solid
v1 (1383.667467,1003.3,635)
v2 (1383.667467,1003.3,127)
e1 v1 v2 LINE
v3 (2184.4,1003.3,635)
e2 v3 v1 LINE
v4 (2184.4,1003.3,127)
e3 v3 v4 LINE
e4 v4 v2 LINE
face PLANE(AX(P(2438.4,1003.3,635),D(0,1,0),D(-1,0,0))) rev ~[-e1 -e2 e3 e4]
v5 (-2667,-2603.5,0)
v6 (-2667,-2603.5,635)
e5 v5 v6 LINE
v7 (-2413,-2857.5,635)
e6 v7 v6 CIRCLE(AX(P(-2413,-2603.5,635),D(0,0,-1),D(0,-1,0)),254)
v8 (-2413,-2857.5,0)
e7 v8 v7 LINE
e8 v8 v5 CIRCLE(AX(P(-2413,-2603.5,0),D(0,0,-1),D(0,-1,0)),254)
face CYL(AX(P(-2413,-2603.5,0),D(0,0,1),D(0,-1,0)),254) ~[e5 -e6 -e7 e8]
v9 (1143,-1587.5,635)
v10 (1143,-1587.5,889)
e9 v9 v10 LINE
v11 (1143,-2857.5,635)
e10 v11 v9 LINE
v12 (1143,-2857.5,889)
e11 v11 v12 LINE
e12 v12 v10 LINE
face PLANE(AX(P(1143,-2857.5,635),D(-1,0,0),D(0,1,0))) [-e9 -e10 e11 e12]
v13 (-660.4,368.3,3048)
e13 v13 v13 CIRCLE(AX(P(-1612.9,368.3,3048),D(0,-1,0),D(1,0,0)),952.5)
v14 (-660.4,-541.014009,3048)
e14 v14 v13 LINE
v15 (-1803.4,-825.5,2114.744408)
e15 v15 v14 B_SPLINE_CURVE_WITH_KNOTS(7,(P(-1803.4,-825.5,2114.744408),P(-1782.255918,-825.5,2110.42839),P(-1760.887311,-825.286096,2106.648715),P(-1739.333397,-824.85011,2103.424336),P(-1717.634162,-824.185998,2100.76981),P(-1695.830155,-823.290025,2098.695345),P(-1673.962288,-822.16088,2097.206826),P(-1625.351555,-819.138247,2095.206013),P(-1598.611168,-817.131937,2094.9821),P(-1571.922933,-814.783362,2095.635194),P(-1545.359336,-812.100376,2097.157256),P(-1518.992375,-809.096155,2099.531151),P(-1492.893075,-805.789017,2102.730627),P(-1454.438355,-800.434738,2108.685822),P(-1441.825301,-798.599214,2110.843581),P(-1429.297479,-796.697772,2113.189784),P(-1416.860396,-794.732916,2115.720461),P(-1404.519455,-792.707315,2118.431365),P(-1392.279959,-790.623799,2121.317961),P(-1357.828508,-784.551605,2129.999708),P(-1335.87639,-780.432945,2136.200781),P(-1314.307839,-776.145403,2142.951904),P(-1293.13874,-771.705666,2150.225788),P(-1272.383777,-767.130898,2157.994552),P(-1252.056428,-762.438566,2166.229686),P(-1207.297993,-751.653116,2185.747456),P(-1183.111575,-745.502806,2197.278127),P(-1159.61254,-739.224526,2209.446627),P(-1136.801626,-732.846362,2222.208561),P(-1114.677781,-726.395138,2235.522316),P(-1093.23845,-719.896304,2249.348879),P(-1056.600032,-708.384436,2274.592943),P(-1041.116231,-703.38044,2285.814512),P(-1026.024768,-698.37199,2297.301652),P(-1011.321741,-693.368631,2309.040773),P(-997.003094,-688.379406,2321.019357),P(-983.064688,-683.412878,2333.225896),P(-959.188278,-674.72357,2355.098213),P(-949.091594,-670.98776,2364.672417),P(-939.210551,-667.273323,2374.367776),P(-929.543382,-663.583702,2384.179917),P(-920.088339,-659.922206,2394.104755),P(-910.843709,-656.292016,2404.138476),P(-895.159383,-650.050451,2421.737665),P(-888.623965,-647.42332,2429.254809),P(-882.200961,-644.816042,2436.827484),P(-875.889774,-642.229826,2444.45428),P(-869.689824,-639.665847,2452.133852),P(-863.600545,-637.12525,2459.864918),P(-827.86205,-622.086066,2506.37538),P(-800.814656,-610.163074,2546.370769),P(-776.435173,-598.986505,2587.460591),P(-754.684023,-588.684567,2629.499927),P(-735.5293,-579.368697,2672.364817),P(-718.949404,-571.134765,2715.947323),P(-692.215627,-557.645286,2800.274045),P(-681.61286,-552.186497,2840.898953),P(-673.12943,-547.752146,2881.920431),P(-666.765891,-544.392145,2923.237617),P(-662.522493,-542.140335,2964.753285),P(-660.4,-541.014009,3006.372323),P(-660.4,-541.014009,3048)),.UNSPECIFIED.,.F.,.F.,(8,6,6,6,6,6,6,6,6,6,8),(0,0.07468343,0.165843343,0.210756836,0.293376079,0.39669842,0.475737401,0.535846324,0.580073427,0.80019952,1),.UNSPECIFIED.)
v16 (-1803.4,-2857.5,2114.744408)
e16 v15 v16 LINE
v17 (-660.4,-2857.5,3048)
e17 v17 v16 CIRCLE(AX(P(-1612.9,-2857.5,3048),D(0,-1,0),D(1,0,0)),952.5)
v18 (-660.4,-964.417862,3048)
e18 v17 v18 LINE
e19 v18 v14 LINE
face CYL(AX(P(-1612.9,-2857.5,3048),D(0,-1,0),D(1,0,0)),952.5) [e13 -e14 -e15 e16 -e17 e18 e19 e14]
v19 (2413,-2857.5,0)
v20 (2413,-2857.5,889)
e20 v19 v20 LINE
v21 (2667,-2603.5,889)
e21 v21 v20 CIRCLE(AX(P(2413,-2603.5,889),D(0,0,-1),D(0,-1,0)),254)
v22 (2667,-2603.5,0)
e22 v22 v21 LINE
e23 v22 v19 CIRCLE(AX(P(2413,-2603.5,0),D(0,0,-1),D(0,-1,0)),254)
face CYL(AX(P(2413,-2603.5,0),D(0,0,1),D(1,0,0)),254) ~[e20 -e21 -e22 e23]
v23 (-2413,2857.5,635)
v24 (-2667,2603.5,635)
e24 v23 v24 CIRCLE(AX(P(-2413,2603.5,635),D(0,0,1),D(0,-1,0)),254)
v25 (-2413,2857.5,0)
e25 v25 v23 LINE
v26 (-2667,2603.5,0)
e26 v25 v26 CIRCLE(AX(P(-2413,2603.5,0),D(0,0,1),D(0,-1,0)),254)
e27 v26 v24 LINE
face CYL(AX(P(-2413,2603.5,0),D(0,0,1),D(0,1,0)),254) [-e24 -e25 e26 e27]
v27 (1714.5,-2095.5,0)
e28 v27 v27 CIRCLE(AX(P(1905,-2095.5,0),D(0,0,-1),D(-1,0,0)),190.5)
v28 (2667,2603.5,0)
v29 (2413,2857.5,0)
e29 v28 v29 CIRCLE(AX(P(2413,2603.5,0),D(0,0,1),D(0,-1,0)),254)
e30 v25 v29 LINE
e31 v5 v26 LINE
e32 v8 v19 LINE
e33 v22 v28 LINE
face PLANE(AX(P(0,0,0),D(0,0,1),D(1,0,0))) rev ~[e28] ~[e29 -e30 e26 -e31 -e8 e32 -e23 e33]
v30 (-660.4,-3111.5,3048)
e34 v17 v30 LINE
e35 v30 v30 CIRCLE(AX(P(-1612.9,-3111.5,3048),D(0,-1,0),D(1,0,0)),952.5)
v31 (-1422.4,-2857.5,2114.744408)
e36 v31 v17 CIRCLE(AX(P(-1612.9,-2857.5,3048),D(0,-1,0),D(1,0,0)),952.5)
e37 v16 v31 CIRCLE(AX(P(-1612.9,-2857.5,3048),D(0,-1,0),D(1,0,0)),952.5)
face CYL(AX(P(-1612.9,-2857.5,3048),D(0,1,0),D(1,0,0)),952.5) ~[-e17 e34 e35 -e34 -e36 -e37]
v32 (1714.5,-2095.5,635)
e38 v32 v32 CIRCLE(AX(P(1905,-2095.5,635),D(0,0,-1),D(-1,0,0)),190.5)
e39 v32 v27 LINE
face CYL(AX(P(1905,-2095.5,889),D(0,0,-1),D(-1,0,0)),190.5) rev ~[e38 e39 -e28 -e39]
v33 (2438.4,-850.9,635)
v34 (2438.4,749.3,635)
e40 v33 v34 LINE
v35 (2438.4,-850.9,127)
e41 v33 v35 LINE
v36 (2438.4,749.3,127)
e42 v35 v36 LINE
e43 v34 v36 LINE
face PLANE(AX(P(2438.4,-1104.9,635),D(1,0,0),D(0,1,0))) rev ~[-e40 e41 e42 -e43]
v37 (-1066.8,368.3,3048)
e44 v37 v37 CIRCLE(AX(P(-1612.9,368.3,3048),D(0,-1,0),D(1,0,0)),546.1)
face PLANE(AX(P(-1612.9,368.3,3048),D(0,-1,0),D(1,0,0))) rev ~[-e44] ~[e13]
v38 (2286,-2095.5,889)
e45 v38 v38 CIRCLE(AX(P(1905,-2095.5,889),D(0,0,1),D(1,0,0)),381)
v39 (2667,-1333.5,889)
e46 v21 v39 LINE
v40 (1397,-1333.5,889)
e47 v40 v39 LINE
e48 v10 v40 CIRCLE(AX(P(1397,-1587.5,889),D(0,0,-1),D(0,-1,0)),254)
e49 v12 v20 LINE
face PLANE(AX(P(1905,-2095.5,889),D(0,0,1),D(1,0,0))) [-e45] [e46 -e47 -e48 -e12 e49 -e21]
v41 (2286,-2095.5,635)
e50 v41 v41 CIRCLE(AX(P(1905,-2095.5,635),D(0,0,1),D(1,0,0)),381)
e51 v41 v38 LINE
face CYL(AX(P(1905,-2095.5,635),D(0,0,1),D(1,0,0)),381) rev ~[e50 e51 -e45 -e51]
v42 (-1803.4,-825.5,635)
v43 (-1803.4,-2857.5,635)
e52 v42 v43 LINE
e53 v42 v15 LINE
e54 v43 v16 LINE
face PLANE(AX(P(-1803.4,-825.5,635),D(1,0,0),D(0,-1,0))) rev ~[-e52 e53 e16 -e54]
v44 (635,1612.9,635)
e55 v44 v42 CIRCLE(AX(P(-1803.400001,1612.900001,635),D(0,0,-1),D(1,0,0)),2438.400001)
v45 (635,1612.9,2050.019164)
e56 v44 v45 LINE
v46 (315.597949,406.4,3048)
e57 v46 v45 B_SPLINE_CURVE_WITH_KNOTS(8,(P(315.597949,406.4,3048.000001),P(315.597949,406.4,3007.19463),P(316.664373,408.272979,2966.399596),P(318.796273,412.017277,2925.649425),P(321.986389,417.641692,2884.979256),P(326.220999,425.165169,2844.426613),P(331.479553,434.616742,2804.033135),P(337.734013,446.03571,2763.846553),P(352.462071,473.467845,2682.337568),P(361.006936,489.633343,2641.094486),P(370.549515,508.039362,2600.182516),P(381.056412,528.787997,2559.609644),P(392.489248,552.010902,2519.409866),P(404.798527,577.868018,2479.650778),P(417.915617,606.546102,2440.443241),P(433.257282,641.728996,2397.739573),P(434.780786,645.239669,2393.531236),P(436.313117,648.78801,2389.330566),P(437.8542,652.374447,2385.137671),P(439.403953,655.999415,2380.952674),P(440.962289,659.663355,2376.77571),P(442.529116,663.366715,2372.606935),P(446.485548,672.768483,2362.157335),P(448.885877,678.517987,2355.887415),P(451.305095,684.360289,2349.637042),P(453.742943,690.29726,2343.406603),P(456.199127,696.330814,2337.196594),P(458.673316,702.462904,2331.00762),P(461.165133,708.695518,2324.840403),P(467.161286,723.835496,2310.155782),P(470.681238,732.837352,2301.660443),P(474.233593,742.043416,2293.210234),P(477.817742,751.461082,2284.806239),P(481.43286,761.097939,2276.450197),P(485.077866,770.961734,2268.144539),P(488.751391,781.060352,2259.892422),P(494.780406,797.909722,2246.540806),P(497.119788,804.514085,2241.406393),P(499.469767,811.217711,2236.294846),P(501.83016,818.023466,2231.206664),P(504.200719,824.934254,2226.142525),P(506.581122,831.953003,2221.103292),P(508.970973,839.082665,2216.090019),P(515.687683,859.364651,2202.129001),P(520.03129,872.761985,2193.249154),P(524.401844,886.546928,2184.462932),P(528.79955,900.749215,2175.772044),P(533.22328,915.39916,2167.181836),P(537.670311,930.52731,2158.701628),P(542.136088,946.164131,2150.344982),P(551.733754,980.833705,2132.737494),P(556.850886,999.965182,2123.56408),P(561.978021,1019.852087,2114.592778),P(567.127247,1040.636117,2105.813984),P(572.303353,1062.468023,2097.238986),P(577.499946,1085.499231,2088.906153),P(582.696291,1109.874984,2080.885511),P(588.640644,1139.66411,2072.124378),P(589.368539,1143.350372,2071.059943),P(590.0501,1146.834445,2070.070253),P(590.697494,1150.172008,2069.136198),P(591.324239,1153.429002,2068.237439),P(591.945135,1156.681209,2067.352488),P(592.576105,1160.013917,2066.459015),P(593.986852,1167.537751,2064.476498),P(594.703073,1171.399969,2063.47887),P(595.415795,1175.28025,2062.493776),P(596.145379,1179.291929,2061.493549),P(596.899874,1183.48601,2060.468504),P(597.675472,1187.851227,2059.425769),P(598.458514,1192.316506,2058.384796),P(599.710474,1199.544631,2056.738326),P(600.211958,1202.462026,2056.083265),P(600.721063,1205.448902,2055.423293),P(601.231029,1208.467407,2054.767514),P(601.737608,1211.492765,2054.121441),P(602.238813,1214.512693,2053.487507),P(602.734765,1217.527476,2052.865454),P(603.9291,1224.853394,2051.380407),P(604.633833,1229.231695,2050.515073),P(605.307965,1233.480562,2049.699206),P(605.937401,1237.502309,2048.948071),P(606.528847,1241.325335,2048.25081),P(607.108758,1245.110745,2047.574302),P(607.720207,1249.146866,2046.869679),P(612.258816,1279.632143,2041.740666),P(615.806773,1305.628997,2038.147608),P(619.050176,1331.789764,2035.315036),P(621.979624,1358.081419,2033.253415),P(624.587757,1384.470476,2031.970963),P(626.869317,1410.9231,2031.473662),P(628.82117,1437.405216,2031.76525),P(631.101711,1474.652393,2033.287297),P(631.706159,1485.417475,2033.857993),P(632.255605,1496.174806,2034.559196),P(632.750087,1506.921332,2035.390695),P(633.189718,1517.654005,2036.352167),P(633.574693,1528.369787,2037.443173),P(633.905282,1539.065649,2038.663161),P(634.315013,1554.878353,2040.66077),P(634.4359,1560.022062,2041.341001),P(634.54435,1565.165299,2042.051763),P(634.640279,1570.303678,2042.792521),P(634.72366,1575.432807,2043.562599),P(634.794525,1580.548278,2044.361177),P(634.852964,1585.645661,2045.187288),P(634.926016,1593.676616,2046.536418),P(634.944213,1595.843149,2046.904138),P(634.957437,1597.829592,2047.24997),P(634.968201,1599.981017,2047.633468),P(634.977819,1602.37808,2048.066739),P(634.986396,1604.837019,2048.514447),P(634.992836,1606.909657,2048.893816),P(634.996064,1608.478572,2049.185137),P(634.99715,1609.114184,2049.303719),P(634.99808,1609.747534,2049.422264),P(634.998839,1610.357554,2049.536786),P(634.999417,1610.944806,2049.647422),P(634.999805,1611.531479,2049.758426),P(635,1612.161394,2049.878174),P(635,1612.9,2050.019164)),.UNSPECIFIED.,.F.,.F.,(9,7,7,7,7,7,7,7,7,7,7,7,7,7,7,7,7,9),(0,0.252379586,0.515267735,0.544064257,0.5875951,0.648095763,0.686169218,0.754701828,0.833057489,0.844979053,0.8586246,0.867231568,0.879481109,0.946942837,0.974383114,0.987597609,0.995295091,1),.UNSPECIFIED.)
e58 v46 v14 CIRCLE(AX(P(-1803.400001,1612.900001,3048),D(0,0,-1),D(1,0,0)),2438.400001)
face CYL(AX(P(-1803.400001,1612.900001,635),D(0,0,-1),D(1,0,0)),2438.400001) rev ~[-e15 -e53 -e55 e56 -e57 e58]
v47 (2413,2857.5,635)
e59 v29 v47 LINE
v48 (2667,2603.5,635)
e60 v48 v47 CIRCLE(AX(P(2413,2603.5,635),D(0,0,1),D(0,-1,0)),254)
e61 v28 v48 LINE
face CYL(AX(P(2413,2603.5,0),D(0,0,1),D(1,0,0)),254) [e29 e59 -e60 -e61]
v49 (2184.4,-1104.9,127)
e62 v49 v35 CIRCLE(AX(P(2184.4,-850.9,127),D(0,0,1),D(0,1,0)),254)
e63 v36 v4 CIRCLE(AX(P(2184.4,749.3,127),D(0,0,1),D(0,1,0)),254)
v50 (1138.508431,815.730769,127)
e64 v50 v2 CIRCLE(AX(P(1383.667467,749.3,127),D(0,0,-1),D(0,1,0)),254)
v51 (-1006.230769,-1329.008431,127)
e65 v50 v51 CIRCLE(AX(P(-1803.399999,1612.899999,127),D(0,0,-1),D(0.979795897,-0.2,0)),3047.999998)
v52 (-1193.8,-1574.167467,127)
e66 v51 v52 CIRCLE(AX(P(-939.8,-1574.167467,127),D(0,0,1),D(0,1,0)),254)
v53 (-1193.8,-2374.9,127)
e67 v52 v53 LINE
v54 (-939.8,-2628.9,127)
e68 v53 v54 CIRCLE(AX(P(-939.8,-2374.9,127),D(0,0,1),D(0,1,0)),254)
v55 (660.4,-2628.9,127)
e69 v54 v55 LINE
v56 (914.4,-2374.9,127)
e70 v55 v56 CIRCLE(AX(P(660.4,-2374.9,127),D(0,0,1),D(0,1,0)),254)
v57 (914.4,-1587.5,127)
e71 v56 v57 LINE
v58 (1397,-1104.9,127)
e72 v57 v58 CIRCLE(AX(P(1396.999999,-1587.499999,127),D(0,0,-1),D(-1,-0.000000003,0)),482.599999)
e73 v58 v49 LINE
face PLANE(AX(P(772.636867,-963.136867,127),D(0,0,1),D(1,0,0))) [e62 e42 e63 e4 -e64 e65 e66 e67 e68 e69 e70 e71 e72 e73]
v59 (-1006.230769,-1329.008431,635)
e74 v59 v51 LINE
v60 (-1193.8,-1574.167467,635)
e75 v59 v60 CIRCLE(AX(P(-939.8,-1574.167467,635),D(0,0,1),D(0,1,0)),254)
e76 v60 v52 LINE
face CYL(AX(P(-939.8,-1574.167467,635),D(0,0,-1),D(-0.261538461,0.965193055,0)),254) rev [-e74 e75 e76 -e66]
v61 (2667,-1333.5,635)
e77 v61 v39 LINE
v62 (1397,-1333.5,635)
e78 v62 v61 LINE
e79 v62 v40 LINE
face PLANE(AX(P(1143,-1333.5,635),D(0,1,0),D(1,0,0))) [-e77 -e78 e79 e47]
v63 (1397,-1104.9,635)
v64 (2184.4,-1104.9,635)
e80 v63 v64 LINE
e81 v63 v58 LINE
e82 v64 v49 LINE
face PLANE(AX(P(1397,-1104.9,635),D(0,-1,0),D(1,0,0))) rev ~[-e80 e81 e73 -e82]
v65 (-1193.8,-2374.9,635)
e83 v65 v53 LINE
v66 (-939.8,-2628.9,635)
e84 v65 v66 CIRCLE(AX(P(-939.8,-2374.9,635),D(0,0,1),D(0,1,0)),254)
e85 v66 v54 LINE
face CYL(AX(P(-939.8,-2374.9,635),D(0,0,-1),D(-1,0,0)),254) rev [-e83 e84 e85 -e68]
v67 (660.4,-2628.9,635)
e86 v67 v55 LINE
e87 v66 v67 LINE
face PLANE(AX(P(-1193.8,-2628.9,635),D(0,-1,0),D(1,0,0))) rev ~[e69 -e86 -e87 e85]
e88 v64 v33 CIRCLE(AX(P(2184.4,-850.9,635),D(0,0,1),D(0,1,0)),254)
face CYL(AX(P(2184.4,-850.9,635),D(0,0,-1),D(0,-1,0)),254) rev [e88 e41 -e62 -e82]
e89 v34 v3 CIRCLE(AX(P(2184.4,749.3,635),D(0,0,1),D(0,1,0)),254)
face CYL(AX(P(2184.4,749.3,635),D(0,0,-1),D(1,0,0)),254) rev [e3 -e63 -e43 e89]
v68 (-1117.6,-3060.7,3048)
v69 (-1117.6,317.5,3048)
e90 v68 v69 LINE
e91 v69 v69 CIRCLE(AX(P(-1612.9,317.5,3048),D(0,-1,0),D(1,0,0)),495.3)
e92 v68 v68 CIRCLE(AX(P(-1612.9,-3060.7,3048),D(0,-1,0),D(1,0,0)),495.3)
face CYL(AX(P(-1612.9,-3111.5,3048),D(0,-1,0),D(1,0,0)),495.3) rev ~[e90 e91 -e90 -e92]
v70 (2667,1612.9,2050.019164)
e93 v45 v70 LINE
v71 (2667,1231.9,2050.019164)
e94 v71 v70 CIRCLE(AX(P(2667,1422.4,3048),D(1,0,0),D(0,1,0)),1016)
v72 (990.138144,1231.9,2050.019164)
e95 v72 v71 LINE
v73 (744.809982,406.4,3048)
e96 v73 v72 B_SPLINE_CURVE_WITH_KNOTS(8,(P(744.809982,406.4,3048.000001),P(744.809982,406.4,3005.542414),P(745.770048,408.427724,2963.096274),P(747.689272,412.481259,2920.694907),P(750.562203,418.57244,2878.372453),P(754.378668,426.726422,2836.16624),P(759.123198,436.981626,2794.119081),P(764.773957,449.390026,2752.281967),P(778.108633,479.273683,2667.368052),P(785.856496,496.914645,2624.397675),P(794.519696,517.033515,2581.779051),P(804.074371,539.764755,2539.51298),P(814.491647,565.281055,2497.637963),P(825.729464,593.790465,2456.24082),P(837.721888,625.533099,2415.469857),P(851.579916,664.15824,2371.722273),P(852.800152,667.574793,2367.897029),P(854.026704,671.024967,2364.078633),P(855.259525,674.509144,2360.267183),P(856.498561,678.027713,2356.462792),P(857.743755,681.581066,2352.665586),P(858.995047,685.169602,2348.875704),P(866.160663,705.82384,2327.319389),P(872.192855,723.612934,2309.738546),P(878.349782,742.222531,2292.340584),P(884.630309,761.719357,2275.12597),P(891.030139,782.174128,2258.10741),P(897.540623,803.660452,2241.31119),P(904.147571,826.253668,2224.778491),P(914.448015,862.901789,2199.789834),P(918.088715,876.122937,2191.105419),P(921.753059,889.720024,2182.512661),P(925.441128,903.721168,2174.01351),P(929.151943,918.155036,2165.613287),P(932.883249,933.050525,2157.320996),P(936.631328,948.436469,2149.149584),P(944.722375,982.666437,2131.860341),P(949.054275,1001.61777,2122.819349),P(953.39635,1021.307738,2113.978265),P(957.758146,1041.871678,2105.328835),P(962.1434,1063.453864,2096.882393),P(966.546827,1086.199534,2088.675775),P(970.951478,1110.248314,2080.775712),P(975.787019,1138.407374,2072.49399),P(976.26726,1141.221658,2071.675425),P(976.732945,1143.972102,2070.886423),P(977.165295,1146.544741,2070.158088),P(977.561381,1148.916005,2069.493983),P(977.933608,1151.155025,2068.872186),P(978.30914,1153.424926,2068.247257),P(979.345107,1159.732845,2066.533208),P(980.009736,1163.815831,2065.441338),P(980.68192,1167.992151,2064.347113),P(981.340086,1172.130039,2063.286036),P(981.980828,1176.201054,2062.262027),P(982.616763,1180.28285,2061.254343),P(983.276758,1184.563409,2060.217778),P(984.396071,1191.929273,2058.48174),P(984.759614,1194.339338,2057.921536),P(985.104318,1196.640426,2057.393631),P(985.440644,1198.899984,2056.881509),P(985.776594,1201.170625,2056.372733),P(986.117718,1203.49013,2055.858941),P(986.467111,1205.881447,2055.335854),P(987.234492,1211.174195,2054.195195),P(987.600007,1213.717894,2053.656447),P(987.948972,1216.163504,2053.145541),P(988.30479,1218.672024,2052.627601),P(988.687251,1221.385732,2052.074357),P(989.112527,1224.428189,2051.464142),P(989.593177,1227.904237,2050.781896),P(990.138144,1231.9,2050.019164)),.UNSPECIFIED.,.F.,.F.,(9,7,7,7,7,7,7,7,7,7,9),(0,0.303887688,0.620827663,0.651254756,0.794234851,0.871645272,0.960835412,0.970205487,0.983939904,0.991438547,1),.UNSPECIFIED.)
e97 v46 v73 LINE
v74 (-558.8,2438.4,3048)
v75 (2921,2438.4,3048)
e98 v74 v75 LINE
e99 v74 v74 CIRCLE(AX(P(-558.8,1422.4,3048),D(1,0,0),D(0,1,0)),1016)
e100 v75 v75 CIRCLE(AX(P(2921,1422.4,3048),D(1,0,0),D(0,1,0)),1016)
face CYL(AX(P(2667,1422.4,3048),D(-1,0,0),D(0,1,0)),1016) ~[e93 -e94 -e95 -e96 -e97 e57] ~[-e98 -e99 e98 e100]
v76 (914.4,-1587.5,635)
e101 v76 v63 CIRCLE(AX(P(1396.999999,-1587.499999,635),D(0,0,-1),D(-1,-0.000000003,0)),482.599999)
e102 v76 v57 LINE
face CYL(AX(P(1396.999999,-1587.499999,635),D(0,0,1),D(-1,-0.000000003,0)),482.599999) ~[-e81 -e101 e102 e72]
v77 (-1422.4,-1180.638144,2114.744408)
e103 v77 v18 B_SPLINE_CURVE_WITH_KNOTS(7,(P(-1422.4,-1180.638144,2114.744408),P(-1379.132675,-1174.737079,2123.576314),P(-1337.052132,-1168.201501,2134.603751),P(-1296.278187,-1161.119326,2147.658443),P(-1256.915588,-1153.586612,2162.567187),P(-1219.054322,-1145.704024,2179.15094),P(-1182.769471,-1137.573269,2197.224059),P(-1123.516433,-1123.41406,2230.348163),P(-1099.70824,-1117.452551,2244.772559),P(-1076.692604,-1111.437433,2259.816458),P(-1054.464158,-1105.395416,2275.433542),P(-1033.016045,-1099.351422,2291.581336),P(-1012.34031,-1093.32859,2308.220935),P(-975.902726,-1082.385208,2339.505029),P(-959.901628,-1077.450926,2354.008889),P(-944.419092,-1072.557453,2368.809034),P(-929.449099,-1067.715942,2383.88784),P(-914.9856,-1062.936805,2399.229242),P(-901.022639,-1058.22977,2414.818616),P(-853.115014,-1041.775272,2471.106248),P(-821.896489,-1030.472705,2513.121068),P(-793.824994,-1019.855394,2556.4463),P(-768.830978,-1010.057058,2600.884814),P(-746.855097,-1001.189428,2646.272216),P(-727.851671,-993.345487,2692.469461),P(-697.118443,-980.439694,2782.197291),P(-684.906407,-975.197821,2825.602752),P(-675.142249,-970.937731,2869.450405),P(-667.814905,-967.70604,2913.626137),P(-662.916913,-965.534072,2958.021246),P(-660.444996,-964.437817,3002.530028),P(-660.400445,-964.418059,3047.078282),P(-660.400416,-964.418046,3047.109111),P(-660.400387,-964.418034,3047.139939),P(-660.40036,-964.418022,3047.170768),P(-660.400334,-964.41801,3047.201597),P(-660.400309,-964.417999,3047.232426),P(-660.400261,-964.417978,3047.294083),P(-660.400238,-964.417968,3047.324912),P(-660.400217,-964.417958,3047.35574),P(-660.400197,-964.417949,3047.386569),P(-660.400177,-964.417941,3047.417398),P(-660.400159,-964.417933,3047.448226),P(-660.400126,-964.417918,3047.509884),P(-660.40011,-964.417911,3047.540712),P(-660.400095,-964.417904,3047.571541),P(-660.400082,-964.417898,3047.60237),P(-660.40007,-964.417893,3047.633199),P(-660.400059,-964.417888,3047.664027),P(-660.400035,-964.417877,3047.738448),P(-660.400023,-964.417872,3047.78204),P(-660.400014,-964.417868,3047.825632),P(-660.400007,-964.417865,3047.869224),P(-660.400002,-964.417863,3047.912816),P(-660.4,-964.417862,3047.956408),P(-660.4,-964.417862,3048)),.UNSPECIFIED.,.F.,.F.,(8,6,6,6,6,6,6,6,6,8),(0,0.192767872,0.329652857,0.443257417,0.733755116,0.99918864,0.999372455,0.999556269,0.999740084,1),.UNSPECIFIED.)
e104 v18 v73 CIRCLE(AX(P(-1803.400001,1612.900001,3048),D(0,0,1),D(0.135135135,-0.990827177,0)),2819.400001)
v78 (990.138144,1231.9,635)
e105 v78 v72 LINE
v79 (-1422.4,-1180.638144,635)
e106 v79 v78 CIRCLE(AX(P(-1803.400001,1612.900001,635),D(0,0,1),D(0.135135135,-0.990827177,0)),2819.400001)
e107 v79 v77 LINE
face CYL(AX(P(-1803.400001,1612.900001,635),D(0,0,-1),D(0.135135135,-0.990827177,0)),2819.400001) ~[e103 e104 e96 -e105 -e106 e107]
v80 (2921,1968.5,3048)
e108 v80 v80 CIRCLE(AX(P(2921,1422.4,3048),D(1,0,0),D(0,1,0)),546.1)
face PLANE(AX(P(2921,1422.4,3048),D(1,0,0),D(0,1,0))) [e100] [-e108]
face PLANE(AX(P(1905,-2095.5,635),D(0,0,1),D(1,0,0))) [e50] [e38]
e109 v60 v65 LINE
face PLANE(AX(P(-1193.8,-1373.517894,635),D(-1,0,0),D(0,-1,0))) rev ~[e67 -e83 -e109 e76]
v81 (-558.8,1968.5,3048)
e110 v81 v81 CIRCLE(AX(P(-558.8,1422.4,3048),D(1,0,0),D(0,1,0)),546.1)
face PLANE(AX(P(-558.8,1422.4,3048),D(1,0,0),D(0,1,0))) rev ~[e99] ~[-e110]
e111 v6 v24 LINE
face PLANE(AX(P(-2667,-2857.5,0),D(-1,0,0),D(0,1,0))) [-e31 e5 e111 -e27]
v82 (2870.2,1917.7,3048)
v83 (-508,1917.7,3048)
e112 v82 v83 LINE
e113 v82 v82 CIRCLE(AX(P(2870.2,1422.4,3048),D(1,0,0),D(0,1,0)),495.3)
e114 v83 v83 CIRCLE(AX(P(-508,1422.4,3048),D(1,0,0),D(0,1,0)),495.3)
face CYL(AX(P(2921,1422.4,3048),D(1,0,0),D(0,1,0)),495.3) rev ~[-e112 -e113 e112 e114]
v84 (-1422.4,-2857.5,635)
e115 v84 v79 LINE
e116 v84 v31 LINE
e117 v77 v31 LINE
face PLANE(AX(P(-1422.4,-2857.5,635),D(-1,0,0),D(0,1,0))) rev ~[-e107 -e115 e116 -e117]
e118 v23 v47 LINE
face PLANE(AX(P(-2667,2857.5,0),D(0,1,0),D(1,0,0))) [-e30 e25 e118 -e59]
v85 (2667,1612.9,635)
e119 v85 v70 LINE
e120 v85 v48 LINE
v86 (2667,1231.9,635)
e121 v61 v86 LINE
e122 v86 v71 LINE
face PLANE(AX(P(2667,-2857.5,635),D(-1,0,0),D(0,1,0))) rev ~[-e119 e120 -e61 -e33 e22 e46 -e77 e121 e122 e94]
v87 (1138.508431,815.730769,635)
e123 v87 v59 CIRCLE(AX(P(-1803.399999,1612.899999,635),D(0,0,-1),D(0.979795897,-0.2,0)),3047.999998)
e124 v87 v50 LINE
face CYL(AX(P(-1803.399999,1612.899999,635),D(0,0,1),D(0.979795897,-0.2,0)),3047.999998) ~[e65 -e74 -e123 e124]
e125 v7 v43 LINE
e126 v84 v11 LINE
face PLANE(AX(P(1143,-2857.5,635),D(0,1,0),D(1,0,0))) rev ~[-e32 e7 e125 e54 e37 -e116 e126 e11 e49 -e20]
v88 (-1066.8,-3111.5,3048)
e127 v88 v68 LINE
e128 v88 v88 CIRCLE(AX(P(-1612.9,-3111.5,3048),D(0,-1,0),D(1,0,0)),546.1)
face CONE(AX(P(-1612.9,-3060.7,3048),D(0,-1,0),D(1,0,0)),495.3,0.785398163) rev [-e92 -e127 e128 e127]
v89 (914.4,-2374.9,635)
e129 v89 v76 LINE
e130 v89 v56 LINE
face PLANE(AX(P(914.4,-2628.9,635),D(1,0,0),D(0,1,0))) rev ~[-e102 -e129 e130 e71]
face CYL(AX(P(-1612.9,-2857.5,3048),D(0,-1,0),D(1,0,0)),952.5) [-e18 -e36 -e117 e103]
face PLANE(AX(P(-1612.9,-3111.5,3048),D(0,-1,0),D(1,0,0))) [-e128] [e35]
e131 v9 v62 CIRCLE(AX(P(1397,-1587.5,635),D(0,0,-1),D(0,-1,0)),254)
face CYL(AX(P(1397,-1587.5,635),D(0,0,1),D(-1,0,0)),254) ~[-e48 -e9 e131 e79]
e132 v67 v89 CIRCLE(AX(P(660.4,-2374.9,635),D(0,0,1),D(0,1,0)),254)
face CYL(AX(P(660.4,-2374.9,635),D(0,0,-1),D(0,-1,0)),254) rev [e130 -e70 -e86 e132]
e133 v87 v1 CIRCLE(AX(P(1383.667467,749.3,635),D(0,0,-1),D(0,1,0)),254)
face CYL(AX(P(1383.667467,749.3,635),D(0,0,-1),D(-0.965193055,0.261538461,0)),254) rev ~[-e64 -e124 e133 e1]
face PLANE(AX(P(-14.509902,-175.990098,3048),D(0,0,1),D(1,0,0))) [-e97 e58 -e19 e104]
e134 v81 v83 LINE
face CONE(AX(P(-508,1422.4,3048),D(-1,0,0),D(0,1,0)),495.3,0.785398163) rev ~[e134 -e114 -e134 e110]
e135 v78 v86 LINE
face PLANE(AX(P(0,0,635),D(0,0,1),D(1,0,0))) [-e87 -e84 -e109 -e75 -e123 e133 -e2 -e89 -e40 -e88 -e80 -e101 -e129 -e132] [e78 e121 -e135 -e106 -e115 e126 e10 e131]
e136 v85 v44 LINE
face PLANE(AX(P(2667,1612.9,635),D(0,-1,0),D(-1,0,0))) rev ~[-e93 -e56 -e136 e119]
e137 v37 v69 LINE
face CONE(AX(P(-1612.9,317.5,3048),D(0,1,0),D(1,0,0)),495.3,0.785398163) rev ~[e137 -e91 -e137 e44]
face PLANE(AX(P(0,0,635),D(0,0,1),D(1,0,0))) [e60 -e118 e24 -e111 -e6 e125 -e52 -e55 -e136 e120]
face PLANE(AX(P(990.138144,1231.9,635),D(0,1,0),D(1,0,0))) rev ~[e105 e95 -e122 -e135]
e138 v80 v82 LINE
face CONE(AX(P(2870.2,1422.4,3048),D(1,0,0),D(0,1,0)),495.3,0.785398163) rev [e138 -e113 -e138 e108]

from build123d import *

# Parameters (mm, degrees)
F0_W            = 5334
F0_H            = 5715
F1_DEPTH        = 635
F3_DEPTH        = 2413
F4_R            = 952.5
F5_DEPTH        = 254
F5_DEPTH_BACK   = 3225.8
F6_R            = 1016
F7_DEPTH        = 254
F7_DEPTH_BACK   = 3225.8
F8_W            = 1524
F8_H            = 1524
F9_DEPTH        = 254
F10_R           = 254
F12_DEPTH       = 508
F14_D           = 381
F14_CBORE_D     = 762
F14_CBORE_DEPTH = 254
F15_R           = 254
F16_R           = 495.3
F17_DEPTH       = 5969.001
F18_R           = 495.3
F19_DEPTH       = 5588.001
F20_SIZE        = 50.8
F21_R           = 254


with BuildPart() as f1:
    # F0 (on Top) → F1 (new body)
    with BuildSketch(Plane.XY):
        Rectangle(F0_W, F0_H)
    extrude(amount=F1_DEPTH)

    # F2 (on face) → F3 (join)
    with BuildSketch(Plane.XY.offset(635)):
        with BuildLine():
            Line((-1803.4, -825.5), (-1803.4, -2857.5))
            Line((-1803.4, -2857.5), (-1422.4, -2857.5))
            Line((-1422.4, -2857.5), (-1422.4, -1180.638144))
            ThreePointArc((-1422.4, -1180.638144), (190.216859, -380.716859), (990.138144, 1231.9))
            Line((990.138144, 1231.9), (2667, 1231.9))
            Line((2667, 1231.9), (2667, 1612.9))
            Line((2667, 1612.9), (635, 1612.9))
            ThreePointArc((635, 1612.9), (-79.190825, -111.309175), (-1803.4, -825.5))
        make_face()
    extrude(amount=F3_DEPTH)

    # F4 (on face) → F5 (join, two sides)
    with BuildSketch(Plane.XZ.offset(2857.5)) as f5_sk:
        with Locations((-1612.9, 3048)):
            Circle(F4_R)
    extrude(amount=F5_DEPTH)
    extrude(f5_sk.sketch, amount=-F5_DEPTH_BACK)

    # F6 (on face) → F7 (join, two sides)
    with BuildSketch(Plane.YZ.offset(2667)) as f7_sk:
        with Locations((1422.4, 3048)):
            Circle(F6_R)
    extrude(amount=F7_DEPTH)
    extrude(f7_sk.sketch, amount=-F7_DEPTH_BACK)

    # F8 (on face) → F9 (join)
    with BuildSketch(Plane.XY.offset(635)):
        with Locations((1905, -2095.5)):
            Rectangle(F8_W, F8_H)
    extrude(amount=F9_DEPTH)

    # F10
    f10_edges = [f1.edges().sort_by_distance(p)[0] for p in [
        (1143, -1333.5, 762),
    ]]
    fillet(f10_edges, radius=F10_R)

    # F11 (on face) → F12 (cut)
    with BuildSketch(Plane.XY.offset(635)):
        with BuildLine():
            ThreePointArc((1183.017894, 1003.3), (351.861469, -542.361469), (-1193.8, -1373.517894))
            Line((-1193.8, -1373.517894), (-1193.8, -2628.9))
            Line((-1193.8, -2628.9), (914.4, -2628.9))
            Line((914.4, -2628.9), (914.4, -1587.5))
            ThreePointArc((914.4, -1587.5), (1055.750267, -1246.250267), (1397, -1104.9))
            Line((1397, -1104.9), (2438.4, -1104.9))
            Line((2438.4, -1104.9), (2438.4, 1003.3))
            Line((2438.4, 1003.3), (1183.017894, 1003.3))
        make_face()
    extrude(amount=-F12_DEPTH, mode=Mode.SUBTRACT)

    # F14 (through all)
    with Locations(Plane.XY.offset(889)):
        with Locations((1905, -2095.5)):
            CounterBoreHole(F14_D / 2, F14_CBORE_D / 2, F14_CBORE_DEPTH)

    # F15
    f15_edges = [f1.edges().sort_by_distance(p)[0] for p in [
        (-1193.8, -1373.517894, 381),
        (1183.017894, 1003.3, 381),
        (2438.4, 1003.3, 381),
        (2438.4, -1104.9, 381),
        (914.4, -2628.9, 381),
        (-1193.8, -2628.9, 381),
    ]]
    fillet(f15_edges, radius=F15_R)

    # F16 (on face) → F17 (cut, through all)
    with BuildSketch(Plane.XZ.offset(3111.5)):
        with Locations((-1612.9, 3048)):
            Circle(F16_R)
    extrude(amount=-F17_DEPTH, mode=Mode.SUBTRACT)

    # F18 (on face) → F19 (cut, through all)
    with BuildSketch(Plane.YZ.offset(2921)):
        with Locations((1422.4, 3048)):
            Circle(F18_R)
    extrude(amount=-F19_DEPTH, mode=Mode.SUBTRACT)

    # F20
    f20_edges = [f1.edges().sort_by_distance(p)[0] for p in [
        (-2108.2, -3111.5, 3048),
        (2921, 927.1, 3048),
        (-2108.2, 368.3, 3048),
        (-558.8, 927.1, 3048),
    ]]
    chamfer(f20_edges, length=F20_SIZE)

    # F21
    f21_edges = [f1.edges().sort_by_distance(p)[0] for p in [
        (-2667, -2857.5, 317.5),
        (2667, -2857.5, 444.5),
        (2667, 2857.5, 317.5),
        (-2667, 2857.5, 317.5),
    ]]
    fillet(f21_edges, radius=F21_R)


solid = f1.part
